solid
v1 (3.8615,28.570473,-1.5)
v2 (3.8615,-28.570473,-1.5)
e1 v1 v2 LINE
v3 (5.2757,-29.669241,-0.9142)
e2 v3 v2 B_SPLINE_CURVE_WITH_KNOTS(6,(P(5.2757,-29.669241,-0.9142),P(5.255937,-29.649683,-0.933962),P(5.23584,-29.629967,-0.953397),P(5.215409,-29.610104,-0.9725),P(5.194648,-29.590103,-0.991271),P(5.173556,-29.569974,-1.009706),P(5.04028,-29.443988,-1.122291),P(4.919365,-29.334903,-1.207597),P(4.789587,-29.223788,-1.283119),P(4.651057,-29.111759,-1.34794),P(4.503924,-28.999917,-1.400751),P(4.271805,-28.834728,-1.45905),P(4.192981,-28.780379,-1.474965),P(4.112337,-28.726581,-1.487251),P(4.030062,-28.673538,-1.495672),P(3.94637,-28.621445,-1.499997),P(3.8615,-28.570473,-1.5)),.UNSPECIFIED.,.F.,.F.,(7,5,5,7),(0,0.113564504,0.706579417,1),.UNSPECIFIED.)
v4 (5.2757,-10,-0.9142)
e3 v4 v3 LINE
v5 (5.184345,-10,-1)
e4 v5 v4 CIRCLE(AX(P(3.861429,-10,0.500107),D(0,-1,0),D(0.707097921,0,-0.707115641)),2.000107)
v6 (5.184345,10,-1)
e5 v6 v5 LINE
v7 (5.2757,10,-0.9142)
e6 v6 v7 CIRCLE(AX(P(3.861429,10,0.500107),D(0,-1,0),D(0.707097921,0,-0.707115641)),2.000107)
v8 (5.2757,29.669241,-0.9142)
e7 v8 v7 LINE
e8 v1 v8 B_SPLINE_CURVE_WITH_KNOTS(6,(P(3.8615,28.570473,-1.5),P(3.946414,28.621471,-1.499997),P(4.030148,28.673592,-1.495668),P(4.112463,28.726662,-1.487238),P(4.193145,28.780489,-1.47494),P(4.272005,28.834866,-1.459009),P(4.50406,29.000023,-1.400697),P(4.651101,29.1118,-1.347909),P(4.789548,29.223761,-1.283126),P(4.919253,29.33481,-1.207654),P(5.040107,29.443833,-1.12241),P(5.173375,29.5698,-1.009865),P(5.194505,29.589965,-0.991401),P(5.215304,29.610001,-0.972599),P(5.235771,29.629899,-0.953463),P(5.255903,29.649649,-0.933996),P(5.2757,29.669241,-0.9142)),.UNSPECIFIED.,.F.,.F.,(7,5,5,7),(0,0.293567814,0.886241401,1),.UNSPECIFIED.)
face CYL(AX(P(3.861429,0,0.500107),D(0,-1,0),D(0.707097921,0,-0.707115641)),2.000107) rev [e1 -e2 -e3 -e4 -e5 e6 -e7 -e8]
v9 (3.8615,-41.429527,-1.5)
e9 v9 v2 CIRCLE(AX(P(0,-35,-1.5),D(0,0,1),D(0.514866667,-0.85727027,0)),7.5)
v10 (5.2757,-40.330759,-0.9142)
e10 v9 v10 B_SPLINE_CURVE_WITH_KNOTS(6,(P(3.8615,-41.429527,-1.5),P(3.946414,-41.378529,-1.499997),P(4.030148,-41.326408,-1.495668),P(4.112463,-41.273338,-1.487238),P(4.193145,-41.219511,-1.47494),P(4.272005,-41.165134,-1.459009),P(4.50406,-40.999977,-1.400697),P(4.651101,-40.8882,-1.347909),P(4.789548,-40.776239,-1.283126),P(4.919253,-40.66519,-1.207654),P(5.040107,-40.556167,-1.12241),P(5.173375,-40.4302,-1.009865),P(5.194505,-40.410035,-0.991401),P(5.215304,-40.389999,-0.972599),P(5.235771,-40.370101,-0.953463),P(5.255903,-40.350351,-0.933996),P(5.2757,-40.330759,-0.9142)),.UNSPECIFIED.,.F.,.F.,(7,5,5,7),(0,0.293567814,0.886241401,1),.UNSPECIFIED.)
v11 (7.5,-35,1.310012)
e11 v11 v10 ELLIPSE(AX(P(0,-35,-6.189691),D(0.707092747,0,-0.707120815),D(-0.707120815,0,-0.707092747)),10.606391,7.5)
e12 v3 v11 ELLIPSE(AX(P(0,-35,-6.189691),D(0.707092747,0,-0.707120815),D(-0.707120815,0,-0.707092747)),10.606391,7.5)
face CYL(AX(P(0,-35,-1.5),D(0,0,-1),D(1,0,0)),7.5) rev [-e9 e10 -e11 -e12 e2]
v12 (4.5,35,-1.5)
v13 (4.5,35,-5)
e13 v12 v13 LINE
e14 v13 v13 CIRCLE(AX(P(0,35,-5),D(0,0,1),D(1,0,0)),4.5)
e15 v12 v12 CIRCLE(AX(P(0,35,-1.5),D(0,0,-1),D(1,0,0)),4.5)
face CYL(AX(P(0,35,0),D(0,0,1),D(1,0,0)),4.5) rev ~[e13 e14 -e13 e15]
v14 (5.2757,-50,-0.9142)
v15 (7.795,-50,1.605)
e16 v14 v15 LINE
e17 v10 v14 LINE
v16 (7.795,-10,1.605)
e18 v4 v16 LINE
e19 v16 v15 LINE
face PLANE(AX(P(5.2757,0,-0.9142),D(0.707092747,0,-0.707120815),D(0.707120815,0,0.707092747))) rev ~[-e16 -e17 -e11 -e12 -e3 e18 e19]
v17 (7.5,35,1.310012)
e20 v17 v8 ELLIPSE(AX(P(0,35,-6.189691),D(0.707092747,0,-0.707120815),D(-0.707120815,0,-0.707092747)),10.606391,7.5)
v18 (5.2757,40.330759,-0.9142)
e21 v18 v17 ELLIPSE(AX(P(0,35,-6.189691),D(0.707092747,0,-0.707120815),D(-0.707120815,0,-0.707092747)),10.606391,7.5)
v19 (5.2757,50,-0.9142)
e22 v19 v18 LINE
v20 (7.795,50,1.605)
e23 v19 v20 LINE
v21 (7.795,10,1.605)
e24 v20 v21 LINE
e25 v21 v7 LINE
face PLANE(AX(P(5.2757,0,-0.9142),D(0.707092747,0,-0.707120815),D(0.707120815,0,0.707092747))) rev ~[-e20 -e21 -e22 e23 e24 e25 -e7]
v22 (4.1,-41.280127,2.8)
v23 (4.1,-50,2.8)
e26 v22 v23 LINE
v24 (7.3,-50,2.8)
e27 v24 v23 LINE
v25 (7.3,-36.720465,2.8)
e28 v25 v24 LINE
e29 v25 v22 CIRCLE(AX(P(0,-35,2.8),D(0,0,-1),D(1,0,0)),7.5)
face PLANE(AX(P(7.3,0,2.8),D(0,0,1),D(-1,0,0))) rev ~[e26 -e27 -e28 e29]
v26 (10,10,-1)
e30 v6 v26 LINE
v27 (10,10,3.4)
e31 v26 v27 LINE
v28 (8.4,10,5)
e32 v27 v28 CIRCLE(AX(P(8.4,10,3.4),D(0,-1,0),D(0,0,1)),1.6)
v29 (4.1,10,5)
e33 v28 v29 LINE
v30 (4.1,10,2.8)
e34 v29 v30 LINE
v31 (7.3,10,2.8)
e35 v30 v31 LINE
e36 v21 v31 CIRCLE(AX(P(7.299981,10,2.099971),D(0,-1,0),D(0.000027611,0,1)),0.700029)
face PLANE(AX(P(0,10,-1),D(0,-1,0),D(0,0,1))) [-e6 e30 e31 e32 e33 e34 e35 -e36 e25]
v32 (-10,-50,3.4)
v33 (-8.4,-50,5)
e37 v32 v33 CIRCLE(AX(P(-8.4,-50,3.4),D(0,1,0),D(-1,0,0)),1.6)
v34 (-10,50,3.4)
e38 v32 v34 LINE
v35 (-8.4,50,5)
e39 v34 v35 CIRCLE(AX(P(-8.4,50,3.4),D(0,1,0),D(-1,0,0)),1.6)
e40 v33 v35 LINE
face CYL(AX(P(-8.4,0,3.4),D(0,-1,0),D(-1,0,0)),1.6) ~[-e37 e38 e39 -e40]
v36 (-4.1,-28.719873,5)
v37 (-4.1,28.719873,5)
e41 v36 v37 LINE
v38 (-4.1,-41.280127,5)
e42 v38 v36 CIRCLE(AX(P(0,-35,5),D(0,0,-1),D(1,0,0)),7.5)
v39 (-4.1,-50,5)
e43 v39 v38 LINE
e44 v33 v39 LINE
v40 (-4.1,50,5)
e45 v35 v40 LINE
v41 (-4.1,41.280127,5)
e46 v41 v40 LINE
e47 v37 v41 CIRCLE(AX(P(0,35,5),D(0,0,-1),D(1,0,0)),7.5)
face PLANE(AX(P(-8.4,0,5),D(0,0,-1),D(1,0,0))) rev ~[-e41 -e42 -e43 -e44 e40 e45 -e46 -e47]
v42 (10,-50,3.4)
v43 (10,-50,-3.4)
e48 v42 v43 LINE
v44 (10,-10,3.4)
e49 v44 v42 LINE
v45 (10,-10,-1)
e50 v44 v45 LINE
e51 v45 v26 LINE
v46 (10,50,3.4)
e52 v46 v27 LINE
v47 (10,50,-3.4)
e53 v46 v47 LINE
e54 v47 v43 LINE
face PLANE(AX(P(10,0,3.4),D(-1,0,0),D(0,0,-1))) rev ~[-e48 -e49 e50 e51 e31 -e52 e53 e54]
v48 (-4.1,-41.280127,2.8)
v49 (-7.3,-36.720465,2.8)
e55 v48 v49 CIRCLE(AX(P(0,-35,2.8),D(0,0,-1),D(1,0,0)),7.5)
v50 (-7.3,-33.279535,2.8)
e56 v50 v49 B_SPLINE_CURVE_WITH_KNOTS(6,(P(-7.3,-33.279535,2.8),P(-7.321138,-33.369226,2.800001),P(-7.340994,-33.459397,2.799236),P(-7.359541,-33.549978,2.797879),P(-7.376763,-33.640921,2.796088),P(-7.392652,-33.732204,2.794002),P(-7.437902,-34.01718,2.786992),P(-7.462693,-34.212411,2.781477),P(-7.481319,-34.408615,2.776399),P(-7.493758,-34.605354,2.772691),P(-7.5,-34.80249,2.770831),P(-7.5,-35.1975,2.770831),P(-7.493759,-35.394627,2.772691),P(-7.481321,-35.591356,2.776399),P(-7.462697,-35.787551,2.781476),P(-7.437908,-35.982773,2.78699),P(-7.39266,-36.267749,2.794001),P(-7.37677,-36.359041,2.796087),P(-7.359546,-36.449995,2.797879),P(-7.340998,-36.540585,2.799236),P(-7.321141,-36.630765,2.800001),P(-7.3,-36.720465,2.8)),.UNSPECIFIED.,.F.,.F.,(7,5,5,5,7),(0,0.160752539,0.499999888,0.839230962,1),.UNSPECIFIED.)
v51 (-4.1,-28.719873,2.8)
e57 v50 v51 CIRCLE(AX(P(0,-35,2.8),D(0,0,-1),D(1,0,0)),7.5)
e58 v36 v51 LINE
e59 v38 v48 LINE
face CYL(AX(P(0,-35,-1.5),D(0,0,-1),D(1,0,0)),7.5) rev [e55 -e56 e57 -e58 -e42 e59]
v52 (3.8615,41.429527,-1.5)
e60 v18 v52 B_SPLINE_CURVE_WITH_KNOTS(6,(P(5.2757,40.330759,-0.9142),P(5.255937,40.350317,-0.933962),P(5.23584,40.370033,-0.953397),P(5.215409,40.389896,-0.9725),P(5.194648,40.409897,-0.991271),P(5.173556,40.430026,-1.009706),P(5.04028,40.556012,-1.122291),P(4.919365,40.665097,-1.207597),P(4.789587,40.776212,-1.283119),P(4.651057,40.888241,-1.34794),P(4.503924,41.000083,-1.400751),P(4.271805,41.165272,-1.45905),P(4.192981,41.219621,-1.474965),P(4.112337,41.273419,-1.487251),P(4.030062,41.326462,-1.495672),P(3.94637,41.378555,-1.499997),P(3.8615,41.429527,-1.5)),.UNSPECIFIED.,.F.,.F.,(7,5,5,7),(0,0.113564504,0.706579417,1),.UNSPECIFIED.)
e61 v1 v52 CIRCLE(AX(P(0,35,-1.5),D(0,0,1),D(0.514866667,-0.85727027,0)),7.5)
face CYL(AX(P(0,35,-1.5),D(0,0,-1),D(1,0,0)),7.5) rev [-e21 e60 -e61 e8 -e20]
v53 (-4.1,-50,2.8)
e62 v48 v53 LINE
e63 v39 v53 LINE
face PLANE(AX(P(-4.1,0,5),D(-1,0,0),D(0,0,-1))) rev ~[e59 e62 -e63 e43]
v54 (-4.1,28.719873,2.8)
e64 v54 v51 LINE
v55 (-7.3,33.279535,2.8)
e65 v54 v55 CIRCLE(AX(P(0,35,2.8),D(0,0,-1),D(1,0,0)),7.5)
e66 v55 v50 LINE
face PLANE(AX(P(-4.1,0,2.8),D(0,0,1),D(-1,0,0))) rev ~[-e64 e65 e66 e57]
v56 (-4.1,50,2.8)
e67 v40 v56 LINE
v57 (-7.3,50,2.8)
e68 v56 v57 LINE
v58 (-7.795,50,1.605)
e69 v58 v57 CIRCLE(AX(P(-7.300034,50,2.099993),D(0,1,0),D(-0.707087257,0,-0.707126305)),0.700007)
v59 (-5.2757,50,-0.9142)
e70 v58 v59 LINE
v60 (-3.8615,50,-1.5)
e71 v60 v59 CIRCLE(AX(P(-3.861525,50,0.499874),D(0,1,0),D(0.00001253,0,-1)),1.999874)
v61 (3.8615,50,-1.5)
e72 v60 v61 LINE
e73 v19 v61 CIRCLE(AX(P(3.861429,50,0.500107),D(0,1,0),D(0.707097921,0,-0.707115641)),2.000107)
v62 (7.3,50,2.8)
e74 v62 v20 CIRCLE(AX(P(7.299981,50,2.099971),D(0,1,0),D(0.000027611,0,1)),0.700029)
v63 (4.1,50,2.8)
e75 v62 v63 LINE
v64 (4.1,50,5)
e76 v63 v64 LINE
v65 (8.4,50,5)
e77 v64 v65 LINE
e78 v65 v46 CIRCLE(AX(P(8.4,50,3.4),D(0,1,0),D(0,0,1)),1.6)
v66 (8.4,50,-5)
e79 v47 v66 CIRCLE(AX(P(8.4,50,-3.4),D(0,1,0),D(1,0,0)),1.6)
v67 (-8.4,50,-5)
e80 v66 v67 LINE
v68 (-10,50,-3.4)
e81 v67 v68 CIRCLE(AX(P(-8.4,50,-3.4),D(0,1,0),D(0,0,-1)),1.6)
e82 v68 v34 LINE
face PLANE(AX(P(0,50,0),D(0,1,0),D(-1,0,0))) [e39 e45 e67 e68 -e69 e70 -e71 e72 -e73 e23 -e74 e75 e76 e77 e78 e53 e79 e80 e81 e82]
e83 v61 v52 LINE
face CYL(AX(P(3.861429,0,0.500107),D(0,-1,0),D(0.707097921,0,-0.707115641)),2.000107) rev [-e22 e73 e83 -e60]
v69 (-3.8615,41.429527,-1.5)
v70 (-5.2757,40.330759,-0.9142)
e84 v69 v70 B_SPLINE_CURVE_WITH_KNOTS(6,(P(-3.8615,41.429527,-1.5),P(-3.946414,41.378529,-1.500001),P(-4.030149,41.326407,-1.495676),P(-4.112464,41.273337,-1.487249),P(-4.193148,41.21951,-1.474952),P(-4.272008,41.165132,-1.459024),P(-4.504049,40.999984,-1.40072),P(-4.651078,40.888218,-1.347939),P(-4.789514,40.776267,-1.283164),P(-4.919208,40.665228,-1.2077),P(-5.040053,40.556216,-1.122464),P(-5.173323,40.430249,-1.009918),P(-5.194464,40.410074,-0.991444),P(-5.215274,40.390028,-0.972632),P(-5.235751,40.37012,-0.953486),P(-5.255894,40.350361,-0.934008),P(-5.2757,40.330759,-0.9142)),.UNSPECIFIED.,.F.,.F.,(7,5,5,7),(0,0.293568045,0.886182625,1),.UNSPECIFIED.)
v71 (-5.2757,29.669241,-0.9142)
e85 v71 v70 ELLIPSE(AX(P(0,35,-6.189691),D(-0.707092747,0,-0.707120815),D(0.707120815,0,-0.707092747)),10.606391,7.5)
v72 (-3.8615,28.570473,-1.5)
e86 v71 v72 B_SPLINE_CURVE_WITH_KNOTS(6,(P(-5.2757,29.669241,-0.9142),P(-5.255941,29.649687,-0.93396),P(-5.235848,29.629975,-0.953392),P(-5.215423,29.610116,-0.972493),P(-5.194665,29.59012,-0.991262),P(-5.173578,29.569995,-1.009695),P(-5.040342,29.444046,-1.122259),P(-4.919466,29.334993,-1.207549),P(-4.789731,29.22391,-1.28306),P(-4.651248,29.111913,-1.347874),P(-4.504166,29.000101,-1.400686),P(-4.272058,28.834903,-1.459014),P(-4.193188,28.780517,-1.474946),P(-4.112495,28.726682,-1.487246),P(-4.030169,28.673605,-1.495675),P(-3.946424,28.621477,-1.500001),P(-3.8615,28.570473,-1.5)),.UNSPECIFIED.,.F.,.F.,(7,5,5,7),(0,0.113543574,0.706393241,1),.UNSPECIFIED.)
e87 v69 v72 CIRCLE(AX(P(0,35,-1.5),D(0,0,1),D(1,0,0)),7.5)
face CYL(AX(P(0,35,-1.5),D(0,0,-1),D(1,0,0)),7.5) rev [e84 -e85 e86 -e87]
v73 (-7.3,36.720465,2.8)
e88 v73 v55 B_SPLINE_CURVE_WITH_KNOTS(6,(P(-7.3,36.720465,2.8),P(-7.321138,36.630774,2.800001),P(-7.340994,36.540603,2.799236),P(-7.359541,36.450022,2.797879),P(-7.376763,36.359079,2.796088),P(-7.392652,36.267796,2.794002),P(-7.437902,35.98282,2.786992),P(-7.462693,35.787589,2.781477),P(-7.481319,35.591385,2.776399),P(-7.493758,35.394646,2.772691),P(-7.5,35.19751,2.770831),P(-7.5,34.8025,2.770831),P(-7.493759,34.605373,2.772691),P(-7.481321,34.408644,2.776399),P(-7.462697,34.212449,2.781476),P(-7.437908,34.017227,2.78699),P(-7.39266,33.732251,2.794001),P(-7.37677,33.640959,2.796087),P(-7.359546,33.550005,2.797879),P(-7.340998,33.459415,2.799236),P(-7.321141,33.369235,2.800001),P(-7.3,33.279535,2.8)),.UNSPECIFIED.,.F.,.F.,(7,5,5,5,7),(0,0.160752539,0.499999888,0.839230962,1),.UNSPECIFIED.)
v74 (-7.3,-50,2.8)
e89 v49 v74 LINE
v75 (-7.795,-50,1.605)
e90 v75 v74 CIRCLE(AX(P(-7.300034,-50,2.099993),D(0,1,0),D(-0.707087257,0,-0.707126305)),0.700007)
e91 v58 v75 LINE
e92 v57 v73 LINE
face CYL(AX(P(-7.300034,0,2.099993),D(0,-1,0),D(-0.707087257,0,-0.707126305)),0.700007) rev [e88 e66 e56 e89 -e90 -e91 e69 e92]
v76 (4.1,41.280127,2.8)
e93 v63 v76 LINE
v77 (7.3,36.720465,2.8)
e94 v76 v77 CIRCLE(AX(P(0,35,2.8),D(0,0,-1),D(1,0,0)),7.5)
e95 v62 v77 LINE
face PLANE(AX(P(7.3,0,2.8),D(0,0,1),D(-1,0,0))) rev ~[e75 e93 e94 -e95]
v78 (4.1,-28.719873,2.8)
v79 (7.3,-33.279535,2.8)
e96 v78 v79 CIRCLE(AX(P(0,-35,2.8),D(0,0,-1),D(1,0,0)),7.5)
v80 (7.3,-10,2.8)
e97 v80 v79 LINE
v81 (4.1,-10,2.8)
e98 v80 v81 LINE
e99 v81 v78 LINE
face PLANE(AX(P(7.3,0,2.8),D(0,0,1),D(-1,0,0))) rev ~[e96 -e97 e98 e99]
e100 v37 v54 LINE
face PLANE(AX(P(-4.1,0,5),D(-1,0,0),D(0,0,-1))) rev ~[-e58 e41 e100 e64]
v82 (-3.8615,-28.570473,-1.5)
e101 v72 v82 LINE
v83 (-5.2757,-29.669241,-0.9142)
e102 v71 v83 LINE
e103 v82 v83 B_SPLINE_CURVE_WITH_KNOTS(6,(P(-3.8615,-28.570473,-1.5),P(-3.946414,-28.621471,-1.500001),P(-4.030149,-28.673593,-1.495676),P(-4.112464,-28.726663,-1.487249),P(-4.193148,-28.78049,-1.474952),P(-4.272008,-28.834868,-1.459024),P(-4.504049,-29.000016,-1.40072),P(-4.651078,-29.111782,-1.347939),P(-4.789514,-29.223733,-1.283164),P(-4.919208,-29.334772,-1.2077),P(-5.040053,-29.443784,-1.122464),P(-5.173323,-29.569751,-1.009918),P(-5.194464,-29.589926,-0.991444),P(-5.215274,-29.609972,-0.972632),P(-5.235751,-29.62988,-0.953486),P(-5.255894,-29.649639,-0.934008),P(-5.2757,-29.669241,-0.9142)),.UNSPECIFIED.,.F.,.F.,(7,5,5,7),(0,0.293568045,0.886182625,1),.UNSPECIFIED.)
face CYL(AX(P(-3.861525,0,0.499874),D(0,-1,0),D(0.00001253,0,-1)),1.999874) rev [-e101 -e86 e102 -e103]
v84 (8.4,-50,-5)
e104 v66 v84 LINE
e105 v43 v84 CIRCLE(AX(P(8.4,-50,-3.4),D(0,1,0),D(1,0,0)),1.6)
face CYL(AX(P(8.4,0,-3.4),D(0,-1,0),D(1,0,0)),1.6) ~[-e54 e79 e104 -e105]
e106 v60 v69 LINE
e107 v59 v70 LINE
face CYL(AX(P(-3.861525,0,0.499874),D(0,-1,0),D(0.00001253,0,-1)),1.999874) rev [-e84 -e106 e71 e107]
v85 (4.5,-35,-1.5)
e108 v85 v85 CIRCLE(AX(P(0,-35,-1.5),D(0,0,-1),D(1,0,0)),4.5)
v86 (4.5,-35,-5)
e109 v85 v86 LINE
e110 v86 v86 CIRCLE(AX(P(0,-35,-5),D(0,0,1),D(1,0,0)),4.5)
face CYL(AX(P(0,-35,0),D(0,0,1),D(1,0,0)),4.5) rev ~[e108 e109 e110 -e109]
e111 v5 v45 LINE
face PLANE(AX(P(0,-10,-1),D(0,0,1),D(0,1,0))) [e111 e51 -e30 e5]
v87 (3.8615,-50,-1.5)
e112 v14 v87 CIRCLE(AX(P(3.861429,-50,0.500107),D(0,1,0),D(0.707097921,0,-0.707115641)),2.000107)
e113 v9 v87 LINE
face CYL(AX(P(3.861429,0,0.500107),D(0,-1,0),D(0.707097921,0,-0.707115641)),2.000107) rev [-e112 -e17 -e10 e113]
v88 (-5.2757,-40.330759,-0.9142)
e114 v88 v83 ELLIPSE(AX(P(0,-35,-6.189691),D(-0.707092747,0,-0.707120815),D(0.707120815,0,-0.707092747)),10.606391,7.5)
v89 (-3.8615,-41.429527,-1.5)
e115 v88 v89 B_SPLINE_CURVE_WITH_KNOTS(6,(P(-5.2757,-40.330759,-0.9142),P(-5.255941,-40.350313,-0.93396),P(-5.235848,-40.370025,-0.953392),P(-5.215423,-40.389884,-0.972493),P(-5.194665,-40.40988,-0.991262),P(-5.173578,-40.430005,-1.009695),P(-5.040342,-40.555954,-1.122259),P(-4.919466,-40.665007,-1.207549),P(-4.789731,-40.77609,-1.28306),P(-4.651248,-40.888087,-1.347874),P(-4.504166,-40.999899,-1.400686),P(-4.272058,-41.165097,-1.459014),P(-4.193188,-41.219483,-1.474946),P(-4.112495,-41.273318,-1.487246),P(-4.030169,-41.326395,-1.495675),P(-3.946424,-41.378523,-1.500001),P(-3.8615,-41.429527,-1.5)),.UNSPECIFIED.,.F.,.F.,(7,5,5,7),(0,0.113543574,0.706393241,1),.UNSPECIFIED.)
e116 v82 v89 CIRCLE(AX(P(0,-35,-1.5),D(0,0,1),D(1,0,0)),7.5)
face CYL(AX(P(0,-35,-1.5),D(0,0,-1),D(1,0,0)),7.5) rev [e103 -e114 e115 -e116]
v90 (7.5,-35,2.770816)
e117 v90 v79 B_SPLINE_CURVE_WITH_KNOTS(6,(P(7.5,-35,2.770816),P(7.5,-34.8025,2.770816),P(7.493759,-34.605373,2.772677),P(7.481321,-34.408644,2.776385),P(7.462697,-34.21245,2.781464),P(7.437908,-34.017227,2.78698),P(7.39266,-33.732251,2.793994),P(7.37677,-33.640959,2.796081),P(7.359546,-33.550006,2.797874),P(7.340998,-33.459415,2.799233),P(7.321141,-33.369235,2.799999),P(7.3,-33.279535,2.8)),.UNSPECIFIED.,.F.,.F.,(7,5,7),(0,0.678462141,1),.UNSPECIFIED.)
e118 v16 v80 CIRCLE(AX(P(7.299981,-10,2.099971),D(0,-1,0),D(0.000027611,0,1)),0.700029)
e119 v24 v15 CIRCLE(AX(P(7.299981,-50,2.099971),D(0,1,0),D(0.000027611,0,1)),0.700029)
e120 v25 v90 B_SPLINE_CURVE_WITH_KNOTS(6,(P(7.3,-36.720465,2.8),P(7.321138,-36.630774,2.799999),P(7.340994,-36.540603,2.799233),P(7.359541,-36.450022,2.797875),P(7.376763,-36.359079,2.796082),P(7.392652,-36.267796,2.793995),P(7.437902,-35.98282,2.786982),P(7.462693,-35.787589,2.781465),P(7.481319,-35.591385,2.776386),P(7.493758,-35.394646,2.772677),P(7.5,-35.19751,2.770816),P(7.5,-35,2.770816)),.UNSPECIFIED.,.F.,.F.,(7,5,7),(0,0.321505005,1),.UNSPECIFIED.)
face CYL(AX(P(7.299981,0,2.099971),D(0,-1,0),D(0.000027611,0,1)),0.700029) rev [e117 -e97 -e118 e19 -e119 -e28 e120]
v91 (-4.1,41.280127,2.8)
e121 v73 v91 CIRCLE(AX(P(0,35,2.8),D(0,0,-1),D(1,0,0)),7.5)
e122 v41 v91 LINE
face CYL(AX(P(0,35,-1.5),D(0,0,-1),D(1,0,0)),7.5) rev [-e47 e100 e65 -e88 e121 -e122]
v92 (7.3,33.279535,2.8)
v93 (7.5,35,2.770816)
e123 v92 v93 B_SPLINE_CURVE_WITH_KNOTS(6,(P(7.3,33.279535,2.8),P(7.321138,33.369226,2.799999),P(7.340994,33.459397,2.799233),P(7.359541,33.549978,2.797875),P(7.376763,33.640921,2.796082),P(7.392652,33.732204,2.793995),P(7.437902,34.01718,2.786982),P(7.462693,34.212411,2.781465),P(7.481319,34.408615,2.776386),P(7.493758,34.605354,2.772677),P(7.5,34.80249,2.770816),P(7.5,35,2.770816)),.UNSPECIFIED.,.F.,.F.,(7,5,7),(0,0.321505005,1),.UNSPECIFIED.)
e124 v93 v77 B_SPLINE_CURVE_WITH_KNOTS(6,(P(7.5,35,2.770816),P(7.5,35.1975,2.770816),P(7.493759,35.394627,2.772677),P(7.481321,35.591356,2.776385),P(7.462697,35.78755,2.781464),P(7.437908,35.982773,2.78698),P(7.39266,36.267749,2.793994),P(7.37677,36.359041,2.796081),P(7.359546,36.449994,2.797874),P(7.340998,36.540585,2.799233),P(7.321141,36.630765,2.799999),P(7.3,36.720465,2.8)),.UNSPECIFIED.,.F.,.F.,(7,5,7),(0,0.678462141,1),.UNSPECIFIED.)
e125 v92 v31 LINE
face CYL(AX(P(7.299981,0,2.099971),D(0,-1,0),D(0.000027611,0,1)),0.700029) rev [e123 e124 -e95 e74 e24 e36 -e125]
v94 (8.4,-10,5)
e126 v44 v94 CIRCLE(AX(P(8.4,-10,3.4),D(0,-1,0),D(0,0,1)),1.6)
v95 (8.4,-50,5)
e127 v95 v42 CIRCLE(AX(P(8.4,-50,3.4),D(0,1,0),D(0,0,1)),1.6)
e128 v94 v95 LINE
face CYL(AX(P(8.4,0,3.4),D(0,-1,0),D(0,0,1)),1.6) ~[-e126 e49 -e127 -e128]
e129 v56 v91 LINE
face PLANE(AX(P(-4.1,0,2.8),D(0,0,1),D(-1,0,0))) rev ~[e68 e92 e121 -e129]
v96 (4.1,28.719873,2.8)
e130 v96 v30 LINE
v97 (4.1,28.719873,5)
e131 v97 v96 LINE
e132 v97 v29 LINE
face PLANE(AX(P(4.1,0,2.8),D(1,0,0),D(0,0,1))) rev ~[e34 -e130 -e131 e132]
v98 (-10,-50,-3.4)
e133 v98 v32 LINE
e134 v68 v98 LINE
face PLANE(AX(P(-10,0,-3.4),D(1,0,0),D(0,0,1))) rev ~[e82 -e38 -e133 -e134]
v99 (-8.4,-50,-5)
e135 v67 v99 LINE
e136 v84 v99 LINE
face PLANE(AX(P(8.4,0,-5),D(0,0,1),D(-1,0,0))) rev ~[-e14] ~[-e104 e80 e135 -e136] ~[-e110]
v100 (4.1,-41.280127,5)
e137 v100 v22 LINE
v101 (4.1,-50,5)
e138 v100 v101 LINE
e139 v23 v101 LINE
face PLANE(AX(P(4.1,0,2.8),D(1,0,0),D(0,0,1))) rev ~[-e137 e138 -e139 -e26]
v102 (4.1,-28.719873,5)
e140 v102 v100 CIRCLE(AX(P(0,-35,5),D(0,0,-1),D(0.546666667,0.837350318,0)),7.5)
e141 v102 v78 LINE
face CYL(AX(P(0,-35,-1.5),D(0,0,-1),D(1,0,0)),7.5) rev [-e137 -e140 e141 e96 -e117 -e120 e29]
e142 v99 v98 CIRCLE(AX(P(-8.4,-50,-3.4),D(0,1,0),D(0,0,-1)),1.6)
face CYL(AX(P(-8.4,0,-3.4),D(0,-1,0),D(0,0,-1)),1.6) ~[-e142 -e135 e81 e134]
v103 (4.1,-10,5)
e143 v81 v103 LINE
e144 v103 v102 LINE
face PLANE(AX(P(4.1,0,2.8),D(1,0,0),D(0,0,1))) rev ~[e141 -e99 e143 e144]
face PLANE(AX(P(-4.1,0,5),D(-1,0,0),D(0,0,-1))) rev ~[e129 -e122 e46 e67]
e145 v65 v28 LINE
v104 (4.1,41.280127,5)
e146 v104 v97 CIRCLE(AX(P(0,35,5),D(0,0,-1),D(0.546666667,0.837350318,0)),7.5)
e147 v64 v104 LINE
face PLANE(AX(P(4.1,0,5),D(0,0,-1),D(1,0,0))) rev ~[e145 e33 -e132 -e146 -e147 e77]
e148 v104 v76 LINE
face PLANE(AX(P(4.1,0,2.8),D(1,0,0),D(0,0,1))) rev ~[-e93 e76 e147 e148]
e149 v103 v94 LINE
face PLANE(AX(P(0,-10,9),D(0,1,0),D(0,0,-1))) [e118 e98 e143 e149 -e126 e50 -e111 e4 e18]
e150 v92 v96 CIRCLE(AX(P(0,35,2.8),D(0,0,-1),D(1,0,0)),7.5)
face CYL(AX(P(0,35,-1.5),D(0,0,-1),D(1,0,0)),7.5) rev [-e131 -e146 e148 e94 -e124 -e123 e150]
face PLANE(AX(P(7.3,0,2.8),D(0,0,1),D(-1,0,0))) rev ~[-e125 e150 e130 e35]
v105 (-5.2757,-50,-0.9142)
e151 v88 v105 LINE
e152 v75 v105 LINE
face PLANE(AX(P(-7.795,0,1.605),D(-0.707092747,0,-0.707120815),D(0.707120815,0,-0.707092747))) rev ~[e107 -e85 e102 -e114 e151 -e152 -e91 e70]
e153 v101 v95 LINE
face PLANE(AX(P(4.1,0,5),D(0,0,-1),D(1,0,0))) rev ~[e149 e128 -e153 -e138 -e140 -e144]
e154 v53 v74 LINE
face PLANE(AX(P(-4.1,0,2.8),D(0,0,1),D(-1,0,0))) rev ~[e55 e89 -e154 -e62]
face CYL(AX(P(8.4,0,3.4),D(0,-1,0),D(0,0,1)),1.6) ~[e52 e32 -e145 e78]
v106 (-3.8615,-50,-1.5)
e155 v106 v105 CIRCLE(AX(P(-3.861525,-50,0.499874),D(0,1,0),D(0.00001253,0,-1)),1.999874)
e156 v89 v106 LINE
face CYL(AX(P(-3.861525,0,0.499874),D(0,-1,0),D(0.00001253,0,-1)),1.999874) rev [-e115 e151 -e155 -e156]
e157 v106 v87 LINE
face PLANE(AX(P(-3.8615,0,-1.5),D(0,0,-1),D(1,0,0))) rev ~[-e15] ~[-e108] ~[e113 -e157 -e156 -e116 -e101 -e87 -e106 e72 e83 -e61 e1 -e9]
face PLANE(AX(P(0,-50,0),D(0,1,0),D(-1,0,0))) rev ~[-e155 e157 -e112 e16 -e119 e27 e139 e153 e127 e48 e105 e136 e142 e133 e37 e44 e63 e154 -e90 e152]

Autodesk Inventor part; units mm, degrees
sketch "Skizze_1" plane through (0, 0, 0) normal (0, 1, 0) x (-1, 0, 0)
  arc A0 (10, 3.4) -> (8.4, 5) centre (8.4, 3.4) ccw
  line L0 (8.4, 5) -> (4.1, 5)
  line L1 (4.1, 5) -> (4.1, 2.8)
  line L2 (4.1, 2.8) -> (7.3, 2.8)
  arc A1 (7.795, 1.605) -> (7.3, 2.8) centre (7.3, 2.1) ccw
  line L3 (7.795, 1.605) -> (5.2757, -0.9142)
  arc A2 (3.8615, -1.5) -> (5.2757, -0.9142) centre (3.8615, 0.5) ccw
  line L4 (3.8615, -1.5) -> (-3.8615, -1.5)
  arc A3 (-5.2757, -0.9142) -> (-3.8615, -1.5) centre (-3.8615, 0.5) ccw
  line L5 (-5.2757, -0.9142) -> (-7.795, 1.605)
  arc A4 (-7.3, 2.8) -> (-7.795, 1.605) centre (-7.3, 2.1) ccw
  line L6 (-7.3, 2.8) -> (-4.1, 2.8)
  line L7 (-4.1, 2.8) -> (-4.1, 5)
  line L8 (-4.1, 5) -> (-8.4, 5)
  arc A5 (-8.4, 5) -> (-10, 3.4) centre (-8.4, 3.4) ccw
  line L9 (-10, 3.4) -> (-10, -3.4)
  arc A6 (-10, -3.4) -> (-8.4, -5) centre (-8.4, -3.4) ccw
  line L10 (-8.4, -5) -> (8.4, -5)
  arc A7 (8.4, -5) -> (10, -3.4) centre (8.4, -3.4) ccw
  line L11 (10, -3.4) -> (10, 3.4)
extrude "Extrusion1" add sketch "Skizze_1" along normal mid plane 100
sketch "Skizze_2" plane through (0, 0, 0) normal (1, 0, 0) x (0, 1, 0)
  line L0 (10, 9) -> (-10, 9)
  line L1 (-10, 9) -> (-10, -1)
  line L2 (-10, -1) -> (10, -1)
  line L3 (10, -1) -> (10, 9)
extrude "Extrusion2" cut sketch "Skizze_2" along normal blind 15
sketch "Skizze_3_ALT_Drilling_1" plane through (0, 0, 0) normal (0, 0, 1) x (1, 0, 0)
  circle A0 centre (0, -35) radius 4.5
extrude "Extrusion3" cut sketch "Skizze_3_ALT_Drilling_1" against normal blind 10
sketch "Skizze_4_ALT_Drilling_2" plane through (0, 0, 0) normal (0, 0, 1) x (1, 0, 0)
  circle A0 centre (0, 35) radius 4.5
extrude "Extrusion4" cut sketch "Skizze_4_ALT_Drilling_2" against normal blind 10
sketch "Skizze_5_ALT_Drilling_3" plane through (0, 0, -1.5) normal (0, 0, 1) x (1, 0, 0)
  circle A0 centre (0, 35) radius 7.5
extrude "Extrusion5" cut sketch "Skizze_5_ALT_Drilling_3" along normal blind 10
sketch "Skizze_6_ALT_Drilling_4" plane through (0, 0, -1.5) normal (0, 0, 1) x (1, 0, 0)
  circle A0 centre (0, -35) radius 7.5
extrude "Extrusion6" cut sketch "Skizze_6_ALT_Drilling_4" along normal blind 10
ref_plane "side_1_XY" through (0, 0, -5) normal (0, 0, -1) x (-1, 0, 0)
ref_plane "side_1_YZ" through (0, 0, -5) normal (-1, 0, 0) x (0, 1, 0)
ref_plane "side_1_ZX" through (0, 0, -5) normal (0, 1, 0) x (0, 0, -1)
ref_plane "side_6a_XY" through (0, 35, 5) normal (0, 0, 1) x (1, 0, 0)
ref_plane "side_6a_YZ" through (0, 35, 5) normal (1, 0, 0) x (0, 1, 0)
ref_plane "side_6a_ZX" through (0, 35, 5) normal (0, 1, 0) x (0, 0, 1)
ref_plane "side_6b_XY" through (0, -35, 5) normal (0, 0, 1) x (1, 0, 0)
ref_plane "side_6b_YZ" through (0, -35, 5) normal (1, 0, 0) x (0, 1, 0)
ref_plane "side_6b_ZX" through (0, -35, 5) normal (0, 1, 0) x (0, 0, 1)
properties part number "MayTec 1.68.201050_Hanging bracket"
